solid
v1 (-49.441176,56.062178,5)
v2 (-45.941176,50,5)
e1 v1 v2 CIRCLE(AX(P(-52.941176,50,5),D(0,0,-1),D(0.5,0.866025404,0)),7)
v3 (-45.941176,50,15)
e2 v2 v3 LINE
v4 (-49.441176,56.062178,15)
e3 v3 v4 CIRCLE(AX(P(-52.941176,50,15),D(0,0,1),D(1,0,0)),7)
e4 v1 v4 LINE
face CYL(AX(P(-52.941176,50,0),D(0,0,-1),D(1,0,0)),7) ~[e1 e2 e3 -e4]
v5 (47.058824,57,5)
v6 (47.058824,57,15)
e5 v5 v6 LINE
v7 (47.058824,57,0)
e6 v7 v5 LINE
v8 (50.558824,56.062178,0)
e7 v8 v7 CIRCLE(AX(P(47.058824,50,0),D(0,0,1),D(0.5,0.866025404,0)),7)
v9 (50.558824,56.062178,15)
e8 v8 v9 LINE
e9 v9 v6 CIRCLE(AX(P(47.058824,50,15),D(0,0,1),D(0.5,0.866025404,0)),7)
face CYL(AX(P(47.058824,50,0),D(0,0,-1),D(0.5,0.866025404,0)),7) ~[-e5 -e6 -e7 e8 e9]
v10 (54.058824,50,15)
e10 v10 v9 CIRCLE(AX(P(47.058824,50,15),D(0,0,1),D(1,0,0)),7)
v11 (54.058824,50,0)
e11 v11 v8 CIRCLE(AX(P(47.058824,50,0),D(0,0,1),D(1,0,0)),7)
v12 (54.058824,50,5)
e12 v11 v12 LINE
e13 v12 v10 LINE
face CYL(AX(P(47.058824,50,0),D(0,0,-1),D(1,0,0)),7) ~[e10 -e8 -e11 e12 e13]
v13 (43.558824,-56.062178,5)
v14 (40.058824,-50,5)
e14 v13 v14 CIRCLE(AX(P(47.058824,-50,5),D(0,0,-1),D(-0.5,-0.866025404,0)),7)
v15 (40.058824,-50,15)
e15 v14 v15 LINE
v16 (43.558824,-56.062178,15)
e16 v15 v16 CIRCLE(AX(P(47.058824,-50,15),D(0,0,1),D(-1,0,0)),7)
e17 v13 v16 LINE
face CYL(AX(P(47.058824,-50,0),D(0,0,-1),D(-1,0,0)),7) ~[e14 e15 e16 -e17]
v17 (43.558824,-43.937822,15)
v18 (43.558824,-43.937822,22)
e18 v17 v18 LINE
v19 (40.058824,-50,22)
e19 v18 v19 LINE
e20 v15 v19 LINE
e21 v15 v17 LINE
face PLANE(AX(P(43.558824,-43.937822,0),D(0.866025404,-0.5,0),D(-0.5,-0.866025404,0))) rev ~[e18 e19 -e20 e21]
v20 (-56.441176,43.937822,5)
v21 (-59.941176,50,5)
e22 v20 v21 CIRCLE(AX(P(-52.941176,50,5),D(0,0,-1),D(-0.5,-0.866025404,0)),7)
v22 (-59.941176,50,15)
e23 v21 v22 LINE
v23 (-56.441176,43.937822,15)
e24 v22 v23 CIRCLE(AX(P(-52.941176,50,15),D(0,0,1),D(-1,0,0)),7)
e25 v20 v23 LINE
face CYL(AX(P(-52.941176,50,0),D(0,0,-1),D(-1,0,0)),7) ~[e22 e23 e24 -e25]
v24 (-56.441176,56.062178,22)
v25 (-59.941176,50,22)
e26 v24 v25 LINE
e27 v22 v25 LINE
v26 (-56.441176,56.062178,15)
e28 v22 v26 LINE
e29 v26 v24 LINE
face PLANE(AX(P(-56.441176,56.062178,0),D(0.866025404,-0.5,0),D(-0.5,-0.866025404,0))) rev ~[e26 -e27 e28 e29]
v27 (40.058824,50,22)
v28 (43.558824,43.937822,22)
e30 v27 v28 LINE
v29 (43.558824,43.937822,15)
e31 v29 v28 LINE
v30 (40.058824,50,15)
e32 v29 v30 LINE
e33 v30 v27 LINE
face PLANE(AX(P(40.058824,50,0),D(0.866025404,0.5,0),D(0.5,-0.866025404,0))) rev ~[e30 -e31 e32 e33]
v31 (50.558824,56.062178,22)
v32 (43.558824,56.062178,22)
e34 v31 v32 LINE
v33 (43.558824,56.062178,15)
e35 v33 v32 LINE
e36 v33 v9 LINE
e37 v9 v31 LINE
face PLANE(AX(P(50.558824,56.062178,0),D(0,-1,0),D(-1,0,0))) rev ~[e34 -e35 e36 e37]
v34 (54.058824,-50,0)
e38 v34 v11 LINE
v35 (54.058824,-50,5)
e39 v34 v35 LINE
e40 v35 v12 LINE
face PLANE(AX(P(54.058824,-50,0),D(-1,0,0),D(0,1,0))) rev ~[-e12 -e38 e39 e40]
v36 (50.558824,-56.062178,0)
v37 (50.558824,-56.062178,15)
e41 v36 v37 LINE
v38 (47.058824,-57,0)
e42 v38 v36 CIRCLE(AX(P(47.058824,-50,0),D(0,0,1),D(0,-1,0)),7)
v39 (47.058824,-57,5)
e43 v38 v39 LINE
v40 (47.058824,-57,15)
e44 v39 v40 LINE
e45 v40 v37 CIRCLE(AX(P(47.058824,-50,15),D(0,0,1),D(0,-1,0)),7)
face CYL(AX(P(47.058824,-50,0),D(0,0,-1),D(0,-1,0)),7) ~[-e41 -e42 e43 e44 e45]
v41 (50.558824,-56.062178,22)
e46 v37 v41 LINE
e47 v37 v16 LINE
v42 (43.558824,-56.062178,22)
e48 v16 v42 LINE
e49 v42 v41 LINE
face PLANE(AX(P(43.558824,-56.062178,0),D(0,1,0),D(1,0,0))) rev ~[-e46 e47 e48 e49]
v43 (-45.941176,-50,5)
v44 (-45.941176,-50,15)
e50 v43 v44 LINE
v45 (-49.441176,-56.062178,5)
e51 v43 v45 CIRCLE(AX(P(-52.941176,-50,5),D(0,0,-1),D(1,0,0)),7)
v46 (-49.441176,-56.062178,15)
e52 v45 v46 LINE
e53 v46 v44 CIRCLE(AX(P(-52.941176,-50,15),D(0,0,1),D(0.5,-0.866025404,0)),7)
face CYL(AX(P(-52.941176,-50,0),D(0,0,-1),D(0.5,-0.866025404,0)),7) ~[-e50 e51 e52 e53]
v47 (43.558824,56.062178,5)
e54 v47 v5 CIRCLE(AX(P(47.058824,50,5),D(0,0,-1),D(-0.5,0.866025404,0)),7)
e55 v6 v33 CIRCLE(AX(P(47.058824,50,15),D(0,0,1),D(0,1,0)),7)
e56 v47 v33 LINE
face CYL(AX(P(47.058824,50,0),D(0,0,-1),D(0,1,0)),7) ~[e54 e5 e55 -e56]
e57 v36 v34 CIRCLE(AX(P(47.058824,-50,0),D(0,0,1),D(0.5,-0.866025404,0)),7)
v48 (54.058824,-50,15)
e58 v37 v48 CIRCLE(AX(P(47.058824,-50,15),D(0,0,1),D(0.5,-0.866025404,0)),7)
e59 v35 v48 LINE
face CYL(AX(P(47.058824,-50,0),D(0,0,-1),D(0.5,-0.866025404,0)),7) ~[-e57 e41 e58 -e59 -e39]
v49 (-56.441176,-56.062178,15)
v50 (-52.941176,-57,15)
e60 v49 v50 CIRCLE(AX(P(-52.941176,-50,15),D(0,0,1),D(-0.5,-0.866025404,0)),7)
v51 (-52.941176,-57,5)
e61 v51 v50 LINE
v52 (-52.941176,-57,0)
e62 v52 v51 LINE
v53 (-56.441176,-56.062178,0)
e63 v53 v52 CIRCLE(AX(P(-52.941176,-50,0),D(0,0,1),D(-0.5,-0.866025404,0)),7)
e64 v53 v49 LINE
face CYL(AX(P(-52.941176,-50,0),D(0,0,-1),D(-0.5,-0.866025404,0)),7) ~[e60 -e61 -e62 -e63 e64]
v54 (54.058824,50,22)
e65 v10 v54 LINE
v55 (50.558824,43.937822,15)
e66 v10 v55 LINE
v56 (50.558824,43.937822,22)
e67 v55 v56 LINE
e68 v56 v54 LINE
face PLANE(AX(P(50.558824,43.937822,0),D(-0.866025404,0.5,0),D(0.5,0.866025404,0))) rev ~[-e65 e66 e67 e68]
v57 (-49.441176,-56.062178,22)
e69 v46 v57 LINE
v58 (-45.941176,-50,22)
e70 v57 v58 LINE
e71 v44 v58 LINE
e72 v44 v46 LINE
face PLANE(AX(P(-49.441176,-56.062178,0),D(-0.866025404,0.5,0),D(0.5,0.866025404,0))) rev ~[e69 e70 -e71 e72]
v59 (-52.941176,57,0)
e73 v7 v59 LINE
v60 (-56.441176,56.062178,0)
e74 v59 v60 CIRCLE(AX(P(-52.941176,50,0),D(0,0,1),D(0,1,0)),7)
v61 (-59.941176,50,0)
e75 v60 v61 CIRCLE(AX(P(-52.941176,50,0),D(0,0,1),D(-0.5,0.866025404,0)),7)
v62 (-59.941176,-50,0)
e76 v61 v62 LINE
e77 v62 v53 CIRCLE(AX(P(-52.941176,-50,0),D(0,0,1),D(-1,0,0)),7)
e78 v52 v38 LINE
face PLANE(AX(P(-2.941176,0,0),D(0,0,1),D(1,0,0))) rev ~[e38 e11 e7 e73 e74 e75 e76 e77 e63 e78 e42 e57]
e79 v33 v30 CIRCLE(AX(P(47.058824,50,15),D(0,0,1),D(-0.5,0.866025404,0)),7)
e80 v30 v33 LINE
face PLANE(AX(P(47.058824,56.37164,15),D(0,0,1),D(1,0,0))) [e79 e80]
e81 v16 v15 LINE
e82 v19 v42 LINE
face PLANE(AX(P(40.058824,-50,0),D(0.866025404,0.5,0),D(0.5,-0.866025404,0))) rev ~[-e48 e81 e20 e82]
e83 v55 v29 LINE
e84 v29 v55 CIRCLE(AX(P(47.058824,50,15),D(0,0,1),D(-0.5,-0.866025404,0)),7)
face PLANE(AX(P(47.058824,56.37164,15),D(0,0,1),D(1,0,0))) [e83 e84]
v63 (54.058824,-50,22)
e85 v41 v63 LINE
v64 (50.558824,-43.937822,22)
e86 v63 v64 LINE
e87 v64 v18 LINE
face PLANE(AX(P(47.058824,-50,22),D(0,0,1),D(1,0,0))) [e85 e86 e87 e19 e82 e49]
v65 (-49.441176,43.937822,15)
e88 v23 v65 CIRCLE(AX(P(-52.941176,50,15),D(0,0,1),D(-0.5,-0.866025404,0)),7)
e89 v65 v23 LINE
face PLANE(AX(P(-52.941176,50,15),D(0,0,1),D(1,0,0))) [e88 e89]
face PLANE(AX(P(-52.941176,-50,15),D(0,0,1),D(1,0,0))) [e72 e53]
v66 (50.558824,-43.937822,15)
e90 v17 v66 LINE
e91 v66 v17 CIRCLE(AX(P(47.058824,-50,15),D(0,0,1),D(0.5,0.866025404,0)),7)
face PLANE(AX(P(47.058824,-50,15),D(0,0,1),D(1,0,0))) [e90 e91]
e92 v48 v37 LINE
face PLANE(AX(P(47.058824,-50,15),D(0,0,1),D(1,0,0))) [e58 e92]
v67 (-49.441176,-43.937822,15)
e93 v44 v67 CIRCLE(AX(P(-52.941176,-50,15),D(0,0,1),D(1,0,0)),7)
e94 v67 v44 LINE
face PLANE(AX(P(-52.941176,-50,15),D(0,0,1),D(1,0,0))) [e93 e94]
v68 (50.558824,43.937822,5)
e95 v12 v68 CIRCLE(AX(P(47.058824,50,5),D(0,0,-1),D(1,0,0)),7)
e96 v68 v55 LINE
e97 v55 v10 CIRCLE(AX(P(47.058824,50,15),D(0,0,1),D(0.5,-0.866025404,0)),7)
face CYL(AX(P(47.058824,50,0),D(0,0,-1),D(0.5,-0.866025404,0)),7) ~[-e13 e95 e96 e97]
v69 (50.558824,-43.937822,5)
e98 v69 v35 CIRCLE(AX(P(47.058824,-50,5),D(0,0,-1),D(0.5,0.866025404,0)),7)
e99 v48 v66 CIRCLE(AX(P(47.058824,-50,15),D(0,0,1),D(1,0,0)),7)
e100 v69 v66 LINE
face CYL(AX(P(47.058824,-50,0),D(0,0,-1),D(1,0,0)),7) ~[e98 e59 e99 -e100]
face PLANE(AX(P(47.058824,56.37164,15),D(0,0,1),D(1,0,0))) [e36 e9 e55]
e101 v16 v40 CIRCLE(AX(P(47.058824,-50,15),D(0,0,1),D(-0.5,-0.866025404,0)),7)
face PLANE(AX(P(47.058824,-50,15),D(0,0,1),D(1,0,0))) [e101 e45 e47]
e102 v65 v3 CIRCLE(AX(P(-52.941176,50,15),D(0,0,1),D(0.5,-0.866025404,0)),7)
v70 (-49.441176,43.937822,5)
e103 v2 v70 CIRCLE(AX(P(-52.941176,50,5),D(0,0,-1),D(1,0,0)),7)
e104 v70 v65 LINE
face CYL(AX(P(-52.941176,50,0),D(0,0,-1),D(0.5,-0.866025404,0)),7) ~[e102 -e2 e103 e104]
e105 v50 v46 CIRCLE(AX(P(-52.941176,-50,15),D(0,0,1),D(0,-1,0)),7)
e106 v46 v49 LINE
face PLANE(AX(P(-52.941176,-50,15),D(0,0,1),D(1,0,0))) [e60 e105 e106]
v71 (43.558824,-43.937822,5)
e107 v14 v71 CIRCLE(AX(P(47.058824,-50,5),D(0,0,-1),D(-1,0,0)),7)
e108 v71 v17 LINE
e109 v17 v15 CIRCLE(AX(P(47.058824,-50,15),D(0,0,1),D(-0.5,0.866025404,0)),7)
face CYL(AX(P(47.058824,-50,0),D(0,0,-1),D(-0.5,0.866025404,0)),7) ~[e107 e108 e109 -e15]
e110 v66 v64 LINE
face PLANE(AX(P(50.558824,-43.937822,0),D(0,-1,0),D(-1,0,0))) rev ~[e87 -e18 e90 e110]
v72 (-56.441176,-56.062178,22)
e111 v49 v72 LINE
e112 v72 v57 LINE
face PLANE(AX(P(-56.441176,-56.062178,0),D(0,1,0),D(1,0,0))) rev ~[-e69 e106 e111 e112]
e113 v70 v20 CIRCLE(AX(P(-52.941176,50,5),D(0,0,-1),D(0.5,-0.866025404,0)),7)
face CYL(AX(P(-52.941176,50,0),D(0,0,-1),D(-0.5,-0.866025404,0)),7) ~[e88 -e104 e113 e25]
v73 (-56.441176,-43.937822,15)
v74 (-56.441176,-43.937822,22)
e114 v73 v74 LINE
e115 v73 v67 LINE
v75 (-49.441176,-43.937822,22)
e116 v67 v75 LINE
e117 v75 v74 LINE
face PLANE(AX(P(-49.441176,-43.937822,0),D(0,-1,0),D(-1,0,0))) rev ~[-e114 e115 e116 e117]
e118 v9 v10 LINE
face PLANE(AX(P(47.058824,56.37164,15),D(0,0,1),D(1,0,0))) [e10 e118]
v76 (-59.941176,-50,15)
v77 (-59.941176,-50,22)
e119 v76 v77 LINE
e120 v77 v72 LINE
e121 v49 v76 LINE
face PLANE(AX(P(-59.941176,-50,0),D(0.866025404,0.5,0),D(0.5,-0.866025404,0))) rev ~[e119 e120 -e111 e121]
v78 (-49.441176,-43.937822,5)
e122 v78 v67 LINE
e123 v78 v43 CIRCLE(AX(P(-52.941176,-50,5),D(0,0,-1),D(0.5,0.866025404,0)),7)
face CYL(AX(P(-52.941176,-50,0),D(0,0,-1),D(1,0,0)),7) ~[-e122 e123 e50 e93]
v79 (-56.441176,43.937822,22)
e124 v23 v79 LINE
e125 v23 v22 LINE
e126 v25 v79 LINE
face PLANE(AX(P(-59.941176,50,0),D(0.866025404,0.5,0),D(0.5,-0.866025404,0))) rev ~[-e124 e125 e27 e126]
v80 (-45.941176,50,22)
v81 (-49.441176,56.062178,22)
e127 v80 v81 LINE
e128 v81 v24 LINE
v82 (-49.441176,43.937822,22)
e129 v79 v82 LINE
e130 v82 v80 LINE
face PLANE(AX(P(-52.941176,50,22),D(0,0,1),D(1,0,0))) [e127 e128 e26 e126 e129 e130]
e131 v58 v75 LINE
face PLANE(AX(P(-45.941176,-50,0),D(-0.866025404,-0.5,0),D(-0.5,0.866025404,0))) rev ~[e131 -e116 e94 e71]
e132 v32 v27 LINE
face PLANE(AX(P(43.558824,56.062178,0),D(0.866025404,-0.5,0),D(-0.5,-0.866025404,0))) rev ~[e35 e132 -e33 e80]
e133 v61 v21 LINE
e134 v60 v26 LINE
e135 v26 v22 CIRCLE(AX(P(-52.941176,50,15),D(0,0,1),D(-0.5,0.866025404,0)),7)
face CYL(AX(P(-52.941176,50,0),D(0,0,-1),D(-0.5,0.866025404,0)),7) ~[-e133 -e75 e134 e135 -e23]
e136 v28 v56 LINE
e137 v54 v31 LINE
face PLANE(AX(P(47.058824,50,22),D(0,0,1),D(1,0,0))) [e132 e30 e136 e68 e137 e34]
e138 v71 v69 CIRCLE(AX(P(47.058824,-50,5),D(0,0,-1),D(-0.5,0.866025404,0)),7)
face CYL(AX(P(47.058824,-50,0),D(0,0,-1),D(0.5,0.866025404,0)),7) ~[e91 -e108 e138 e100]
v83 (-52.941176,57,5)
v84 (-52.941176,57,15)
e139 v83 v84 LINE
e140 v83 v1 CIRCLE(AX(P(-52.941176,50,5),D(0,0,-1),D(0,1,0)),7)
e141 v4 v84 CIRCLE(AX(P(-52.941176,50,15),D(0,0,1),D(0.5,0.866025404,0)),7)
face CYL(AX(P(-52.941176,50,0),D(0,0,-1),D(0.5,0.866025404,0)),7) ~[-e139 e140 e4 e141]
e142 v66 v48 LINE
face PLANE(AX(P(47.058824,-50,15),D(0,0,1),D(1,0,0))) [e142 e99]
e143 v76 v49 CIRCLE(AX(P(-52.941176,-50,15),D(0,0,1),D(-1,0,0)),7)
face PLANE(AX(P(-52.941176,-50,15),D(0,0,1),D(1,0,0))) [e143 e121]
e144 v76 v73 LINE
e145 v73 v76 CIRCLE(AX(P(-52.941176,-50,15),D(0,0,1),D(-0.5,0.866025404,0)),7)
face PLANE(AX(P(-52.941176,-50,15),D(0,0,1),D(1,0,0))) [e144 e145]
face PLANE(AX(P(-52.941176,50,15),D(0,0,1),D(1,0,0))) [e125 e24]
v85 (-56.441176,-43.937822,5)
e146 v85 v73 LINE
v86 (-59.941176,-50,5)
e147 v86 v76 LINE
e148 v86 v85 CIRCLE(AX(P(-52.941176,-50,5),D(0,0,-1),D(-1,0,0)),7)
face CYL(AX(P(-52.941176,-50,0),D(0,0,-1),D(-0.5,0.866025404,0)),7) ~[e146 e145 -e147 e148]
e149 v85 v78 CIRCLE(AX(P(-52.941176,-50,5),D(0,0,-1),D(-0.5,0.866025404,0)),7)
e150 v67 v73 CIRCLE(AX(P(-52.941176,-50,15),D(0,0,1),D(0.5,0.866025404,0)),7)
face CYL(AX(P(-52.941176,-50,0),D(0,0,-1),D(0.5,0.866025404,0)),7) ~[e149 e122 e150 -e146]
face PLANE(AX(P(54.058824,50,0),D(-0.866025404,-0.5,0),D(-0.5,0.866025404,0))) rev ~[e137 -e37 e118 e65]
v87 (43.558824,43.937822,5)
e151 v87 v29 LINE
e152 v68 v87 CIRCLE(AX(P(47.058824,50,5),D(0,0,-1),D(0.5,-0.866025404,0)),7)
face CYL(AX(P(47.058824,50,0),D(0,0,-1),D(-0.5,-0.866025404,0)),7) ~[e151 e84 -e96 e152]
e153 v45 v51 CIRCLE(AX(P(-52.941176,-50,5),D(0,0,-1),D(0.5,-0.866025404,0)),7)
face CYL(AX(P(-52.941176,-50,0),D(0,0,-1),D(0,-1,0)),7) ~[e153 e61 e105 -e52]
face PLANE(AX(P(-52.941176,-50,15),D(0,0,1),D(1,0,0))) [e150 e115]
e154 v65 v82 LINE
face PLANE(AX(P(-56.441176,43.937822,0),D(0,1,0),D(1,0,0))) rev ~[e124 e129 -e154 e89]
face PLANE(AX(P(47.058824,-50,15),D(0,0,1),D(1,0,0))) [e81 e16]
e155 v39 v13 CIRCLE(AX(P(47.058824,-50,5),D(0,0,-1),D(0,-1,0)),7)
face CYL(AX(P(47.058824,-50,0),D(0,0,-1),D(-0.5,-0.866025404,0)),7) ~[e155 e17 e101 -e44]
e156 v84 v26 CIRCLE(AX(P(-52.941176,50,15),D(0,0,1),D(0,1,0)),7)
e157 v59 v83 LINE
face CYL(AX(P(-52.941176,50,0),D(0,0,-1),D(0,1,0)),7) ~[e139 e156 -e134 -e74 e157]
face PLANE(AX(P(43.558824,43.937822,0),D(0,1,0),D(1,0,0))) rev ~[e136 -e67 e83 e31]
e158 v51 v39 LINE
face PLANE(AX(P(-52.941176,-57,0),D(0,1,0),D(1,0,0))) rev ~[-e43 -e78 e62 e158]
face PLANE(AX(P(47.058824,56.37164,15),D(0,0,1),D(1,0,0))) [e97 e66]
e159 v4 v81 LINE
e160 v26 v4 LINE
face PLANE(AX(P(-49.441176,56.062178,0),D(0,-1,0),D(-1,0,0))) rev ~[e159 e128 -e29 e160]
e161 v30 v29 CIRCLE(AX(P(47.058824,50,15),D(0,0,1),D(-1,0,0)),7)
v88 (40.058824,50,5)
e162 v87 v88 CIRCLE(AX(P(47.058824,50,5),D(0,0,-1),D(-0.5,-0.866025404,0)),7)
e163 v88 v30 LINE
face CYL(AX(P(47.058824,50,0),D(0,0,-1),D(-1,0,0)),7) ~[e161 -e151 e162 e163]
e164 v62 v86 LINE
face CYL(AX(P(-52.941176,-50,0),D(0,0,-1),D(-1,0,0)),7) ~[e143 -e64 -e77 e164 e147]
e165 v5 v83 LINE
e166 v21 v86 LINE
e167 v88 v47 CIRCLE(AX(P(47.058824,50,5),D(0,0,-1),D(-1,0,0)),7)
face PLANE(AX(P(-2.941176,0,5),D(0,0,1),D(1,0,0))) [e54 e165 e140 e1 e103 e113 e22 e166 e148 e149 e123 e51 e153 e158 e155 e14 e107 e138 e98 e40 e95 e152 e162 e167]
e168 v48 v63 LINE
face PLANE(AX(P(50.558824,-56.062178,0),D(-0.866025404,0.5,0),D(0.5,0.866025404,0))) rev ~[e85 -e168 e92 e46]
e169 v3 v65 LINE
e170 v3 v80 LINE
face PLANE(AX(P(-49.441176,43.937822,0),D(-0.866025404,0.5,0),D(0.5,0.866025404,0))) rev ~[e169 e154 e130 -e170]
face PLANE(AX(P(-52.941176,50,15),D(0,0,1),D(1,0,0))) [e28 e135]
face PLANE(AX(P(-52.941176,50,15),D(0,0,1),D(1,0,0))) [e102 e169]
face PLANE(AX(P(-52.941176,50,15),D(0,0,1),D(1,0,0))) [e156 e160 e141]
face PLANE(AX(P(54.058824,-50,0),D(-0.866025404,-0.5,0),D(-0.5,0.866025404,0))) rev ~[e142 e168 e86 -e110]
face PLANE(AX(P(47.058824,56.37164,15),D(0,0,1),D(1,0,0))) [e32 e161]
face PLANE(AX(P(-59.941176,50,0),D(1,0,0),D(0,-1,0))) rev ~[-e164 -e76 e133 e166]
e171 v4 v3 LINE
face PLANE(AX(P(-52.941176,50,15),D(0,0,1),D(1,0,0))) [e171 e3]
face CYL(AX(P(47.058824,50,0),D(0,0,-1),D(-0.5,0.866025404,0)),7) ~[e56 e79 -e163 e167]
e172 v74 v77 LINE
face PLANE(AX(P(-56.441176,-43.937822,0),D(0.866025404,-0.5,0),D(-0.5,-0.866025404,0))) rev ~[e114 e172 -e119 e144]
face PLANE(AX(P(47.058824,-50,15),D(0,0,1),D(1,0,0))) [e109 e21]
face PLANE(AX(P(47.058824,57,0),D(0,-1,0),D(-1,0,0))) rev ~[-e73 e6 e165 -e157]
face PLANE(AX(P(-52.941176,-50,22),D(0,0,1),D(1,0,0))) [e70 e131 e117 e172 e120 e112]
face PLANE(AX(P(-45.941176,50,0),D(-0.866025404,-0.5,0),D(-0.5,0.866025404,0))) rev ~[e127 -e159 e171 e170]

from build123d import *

# Parameters (mm, degrees)
F1_DEPTH = 5
F2_DEPTH = 15
F3_DEPTH = 22


with BuildPart() as f1:
    # F0 (on Top) → F1 (new body)
    with BuildSketch(Plane.XY):
        with BuildLine():
            ThreePointArc((-49.4411764706, 56.0621778265), (-46.8789986441, 53.5), (-45.9411764706, 50))
            ThreePointArc((-45.9411764706, 50), (-46.8789986441, 46.5), (-49.4411764706, 43.9378221735))
            ThreePointArc((-49.4411764706, 43.9378221735), (-52.9411764706, 43), (-56.4411764706, 43.9378221735))
            ThreePointArc((-56.4411764706, 43.9378221735), (-59.0033542971, 46.5), (-59.9411764706, 50))
            Line((-59.9411764706, 50), (-59.9411764706, -50))
            ThreePointArc((-59.9411764706, -50), (-59.0033542971, -46.5), (-56.4411764706, -43.9378221735))
            ThreePointArc((-56.4411764706, -43.9378221735), (-52.9411764706, -43), (-49.4411764706, -43.9378221735))
            ThreePointArc((-49.4411764706, -43.9378221735), (-46.8789986441, -46.5), (-45.9411764706, -50))
            ThreePointArc((-45.9411764706, -50), (-46.8789986441, -53.5), (-49.4411764706, -56.0621778265))
            ThreePointArc((-49.4411764706, -56.0621778265), (-51.1294431549, -56.761480784), (-52.9411764706, -57))
            Line((-52.9411764706, -57), (47.0588235294, -57))
            ThreePointArc((47.0588235294, -57), (45.2470902137, -56.761480784), (43.5588235294, -56.0621778265))
            ThreePointArc((43.5588235294, -56.0621778265), (40.9966457029, -53.5), (40.0588235294, -50))
            ThreePointArc((40.0588235294, -50), (40.9966457029, -46.5), (43.5588235294, -43.9378221735))
            ThreePointArc((43.5588235294, -43.9378221735), (47.0588235294, -43), (50.5588235294, -43.9378221735))
            ThreePointArc((50.5588235294, -43.9378221735), (53.1210013559, -46.5), (54.0588235294, -50))
            Line((54.0588235294, -50), (54.0588235294, 50))
            ThreePointArc((54.0588235294, 50), (53.1210013559, 46.5), (50.5588235294, 43.9378221735))
            ThreePointArc((50.5588235294, 43.9378221735), (47.0588235294, 43), (43.5588235294, 43.9378221735))
            ThreePointArc((43.5588235294, 43.9378221735), (40.9966457029, 46.5), (40.0588235294, 50))
            ThreePointArc((40.0588235294, 50), (40.9966457029, 53.5), (43.5588235294, 56.0621778265))
            ThreePointArc((43.5588235294, 56.0621778265), (45.2470902137, 56.761480784), (47.0588235294, 57))
            Line((47.0588235294, 57), (-52.9411764706, 57))
            ThreePointArc((-52.9411764706, 57), (-51.1294431549, 56.761480784), (-49.4411764706, 56.0621778265))
        make_face()
    extrude(amount=F1_DEPTH)

    # F0 (on Top) → F2 (join)
    with BuildSketch(Plane.XY):
        Polygon((-49.4411764706, 43.9378221735), (-45.9411764706, 50), (-49.4411764706, 56.0621778265), (-56.4411764706, 56.0621778265), (-59.9411764706, 50), (-56.4411764706, 43.9378221735), align=None)
        Polygon((50.5588235294, -56.0621778265), (54.0588235294, -50), (50.5588235294, -43.9378221735), (43.5588235294, -43.9378221735), (40.0588235294, -50), (43.5588235294, -56.0621778265), align=None)
        Polygon((-56.4411764706, -43.9378221735), (-59.9411764706, -50), (-56.4411764706, -56.0621778265), (-49.4411764706, -56.0621778265), (-45.9411764706, -50), (-49.4411764706, -43.9378221735), align=None)
        with BuildLine():
            ThreePointArc((50.5588235294, -56.0621778265), (53.1210013559, -53.5), (54.0588235294, -50))
            Line((54.0588235294, -50), (50.5588235294, -56.0621778265))
        make_face()
        with BuildLine():
            Line((43.5588235294, -43.9378221735), (50.5588235294, -43.9378221735))
            ThreePointArc((50.5588235294, -43.9378221735), (47.0588235294, -43), (43.5588235294, -43.9378221735))
        make_face()
        with BuildLine():
            Line((40.0588235294, -50), (43.5588235294, -43.9378221735))
            ThreePointArc((43.5588235294, -43.9378221735), (40.9966457029, -46.5), (40.0588235294, -50))
        make_face()
        with BuildLine():
            ThreePointArc((40.0588235294, -50), (40.9966457029, -53.5), (43.5588235294, -56.0621778265))
            Line((43.5588235294, -56.0621778265), (40.0588235294, -50))
        make_face()
        with BuildLine():
            ThreePointArc((-45.9411764706, -50), (-46.8789986441, -46.5), (-49.4411764706, -43.9378221735))
            Line((-49.4411764706, -43.9378221735), (-45.9411764706, -50))
        make_face()
        with BuildLine():
            ThreePointArc((-49.4411764706, -43.9378221735), (-52.9411764706, -43), (-56.4411764706, -43.9378221735))
            Line((-56.4411764706, -43.9378221735), (-49.4411764706, -43.9378221735))
        make_face()
        with BuildLine():
            Line((-45.9411764706, -50), (-49.4411764706, -56.0621778265))
            ThreePointArc((-49.4411764706, -56.0621778265), (-46.8789986441, -53.5), (-45.9411764706, -50))
        make_face()
        with BuildLine():
            ThreePointArc((-56.4411764706, -43.9378221735), (-59.0033542971, -46.5), (-59.9411764706, -50))
            Line((-59.9411764706, -50), (-56.4411764706, -43.9378221735))
        make_face()
        with BuildLine():
            Line((-49.4411764706, -56.0621778265), (-56.4411764706, -56.0621778265))
            ThreePointArc((-56.4411764706, -56.0621778265), (-54.7529097863, -56.761480784), (-52.9411764706, -57))
            ThreePointArc((-52.9411764706, -57), (-51.1294431549, -56.761480784), (-49.4411764706, -56.0621778265))
        make_face()
        with BuildLine():
            Line((-56.4411764706, -56.0621778265), (-59.9411764706, -50))
            ThreePointArc((-59.9411764706, -50), (-59.0033542971, -53.5), (-56.4411764706, -56.0621778265))
        make_face()
        with BuildLine():
            Line((-56.4411764706, 56.0621778265), (-49.4411764706, 56.0621778265))
            ThreePointArc((-49.4411764706, 56.0621778265), (-51.1294431549, 56.761480784), (-52.9411764706, 57))
            ThreePointArc((-52.9411764706, 57), (-54.7529097863, 56.761480784), (-56.4411764706, 56.0621778265))
        make_face()
        with BuildLine():
            Line((-49.4411764706, 56.0621778265), (-45.9411764706, 50))
            ThreePointArc((-45.9411764706, 50), (-46.8789986441, 53.5), (-49.4411764706, 56.0621778265))
        make_face()
        with BuildLine():
            ThreePointArc((-49.4411764706, 43.9378221735), (-46.8789986441, 46.5), (-45.9411764706, 50))
            Line((-45.9411764706, 50), (-49.4411764706, 43.9378221735))
        make_face()
        with BuildLine():
            Line((-59.9411764706, 50), (-56.4411764706, 56.0621778265))
            ThreePointArc((-56.4411764706, 56.0621778265), (-59.0033542971, 53.5), (-59.9411764706, 50))
        make_face()
        with BuildLine():
            ThreePointArc((-59.9411764706, 50), (-59.0033542971, 46.5), (-56.4411764706, 43.9378221735))
            Line((-56.4411764706, 43.9378221735), (-59.9411764706, 50))
        make_face()
        with BuildLine():
            ThreePointArc((-56.4411764706, 43.9378221735), (-52.9411764706, 43), (-49.4411764706, 43.9378221735))
            Line((-49.4411764706, 43.9378221735), (-56.4411764706, 43.9378221735))
        make_face()
        with BuildLine():
            ThreePointArc((50.5588235294, 56.0621778265), (48.8705568451, 56.761480784), (47.0588235294, 57))
            ThreePointArc((47.0588235294, 57), (45.2470902137, 56.761480784), (43.5588235294, 56.0621778265))
            Line((43.5588235294, 56.0621778265), (50.5588235294, 56.0621778265))
        make_face()
        with BuildLine():
            ThreePointArc((54.0588235294, 50), (53.1210013559, 53.5), (50.5588235294, 56.0621778265))
            Line((50.5588235294, 56.0621778265), (54.0588235294, 50))
        make_face()
        with BuildLine():
            ThreePointArc((50.5588235294, 43.9378221735), (53.1210013559, 46.5), (54.0588235294, 50))
            Line((54.0588235294, 50), (50.5588235294, 43.9378221735))
        make_face()
        with BuildLine():
            ThreePointArc((43.5588235294, 43.9378221735), (47.0588235294, 43), (50.5588235294, 43.9378221735))
            Line((50.5588235294, 43.9378221735), (43.5588235294, 43.9378221735))
        make_face()
        with BuildLine():
            Line((43.5588235294, 43.9378221735), (40.0588235294, 50))
            ThreePointArc((40.0588235294, 50), (40.9966457029, 46.5), (43.5588235294, 43.9378221735))
        make_face()
        with BuildLine():
            Line((40.0588235294, 50), (43.5588235294, 56.0621778265))
            ThreePointArc((43.5588235294, 56.0621778265), (40.9966457029, 53.5), (40.0588235294, 50))
        make_face()
        Polygon((54.0588235294, 50), (50.5588235294, 56.0621778265), (43.5588235294, 56.0621778265), (40.0588235294, 50), (43.5588235294, 43.9378221735), (50.5588235294, 43.9378221735), align=None)
        with BuildLine():
            ThreePointArc((47.0588235294, -57), (48.8705568451, -56.761480784), (50.5588235294, -56.0621778265))
            Line((50.5588235294, -56.0621778265), (43.5588235294, -56.0621778265))
            ThreePointArc((43.5588235294, -56.0621778265), (45.2470902137, -56.761480784), (47.0588235294, -57))
        make_face()
        with BuildLine():
            Line((50.5588235294, -43.9378221735), (54.0588235294, -50))
            ThreePointArc((54.0588235294, -50), (53.1210013559, -46.5), (50.5588235294, -43.9378221735))
        make_face()
    extrude(amount=F2_DEPTH)

    # F0 (on Top) → F3 (join)
    with BuildSketch(Plane.XY):
        Polygon((-49.4411764706, 43.9378221735), (-45.9411764706, 50), (-49.4411764706, 56.0621778265), (-56.4411764706, 56.0621778265), (-59.9411764706, 50), (-56.4411764706, 43.9378221735), align=None)
        Polygon((50.5588235294, -56.0621778265), (54.0588235294, -50), (50.5588235294, -43.9378221735), (43.5588235294, -43.9378221735), (40.0588235294, -50), (43.5588235294, -56.0621778265), align=None)
        Polygon((-56.4411764706, -43.9378221735), (-59.9411764706, -50), (-56.4411764706, -56.0621778265), (-49.4411764706, -56.0621778265), (-45.9411764706, -50), (-49.4411764706, -43.9378221735), align=None)
        Polygon((54.0588235294, 50), (50.5588235294, 56.0621778265), (43.5588235294, 56.0621778265), (40.0588235294, 50), (43.5588235294, 43.9378221735), (50.5588235294, 43.9378221735), align=None)
    extrude(amount=F3_DEPTH)


solid = f1.part
